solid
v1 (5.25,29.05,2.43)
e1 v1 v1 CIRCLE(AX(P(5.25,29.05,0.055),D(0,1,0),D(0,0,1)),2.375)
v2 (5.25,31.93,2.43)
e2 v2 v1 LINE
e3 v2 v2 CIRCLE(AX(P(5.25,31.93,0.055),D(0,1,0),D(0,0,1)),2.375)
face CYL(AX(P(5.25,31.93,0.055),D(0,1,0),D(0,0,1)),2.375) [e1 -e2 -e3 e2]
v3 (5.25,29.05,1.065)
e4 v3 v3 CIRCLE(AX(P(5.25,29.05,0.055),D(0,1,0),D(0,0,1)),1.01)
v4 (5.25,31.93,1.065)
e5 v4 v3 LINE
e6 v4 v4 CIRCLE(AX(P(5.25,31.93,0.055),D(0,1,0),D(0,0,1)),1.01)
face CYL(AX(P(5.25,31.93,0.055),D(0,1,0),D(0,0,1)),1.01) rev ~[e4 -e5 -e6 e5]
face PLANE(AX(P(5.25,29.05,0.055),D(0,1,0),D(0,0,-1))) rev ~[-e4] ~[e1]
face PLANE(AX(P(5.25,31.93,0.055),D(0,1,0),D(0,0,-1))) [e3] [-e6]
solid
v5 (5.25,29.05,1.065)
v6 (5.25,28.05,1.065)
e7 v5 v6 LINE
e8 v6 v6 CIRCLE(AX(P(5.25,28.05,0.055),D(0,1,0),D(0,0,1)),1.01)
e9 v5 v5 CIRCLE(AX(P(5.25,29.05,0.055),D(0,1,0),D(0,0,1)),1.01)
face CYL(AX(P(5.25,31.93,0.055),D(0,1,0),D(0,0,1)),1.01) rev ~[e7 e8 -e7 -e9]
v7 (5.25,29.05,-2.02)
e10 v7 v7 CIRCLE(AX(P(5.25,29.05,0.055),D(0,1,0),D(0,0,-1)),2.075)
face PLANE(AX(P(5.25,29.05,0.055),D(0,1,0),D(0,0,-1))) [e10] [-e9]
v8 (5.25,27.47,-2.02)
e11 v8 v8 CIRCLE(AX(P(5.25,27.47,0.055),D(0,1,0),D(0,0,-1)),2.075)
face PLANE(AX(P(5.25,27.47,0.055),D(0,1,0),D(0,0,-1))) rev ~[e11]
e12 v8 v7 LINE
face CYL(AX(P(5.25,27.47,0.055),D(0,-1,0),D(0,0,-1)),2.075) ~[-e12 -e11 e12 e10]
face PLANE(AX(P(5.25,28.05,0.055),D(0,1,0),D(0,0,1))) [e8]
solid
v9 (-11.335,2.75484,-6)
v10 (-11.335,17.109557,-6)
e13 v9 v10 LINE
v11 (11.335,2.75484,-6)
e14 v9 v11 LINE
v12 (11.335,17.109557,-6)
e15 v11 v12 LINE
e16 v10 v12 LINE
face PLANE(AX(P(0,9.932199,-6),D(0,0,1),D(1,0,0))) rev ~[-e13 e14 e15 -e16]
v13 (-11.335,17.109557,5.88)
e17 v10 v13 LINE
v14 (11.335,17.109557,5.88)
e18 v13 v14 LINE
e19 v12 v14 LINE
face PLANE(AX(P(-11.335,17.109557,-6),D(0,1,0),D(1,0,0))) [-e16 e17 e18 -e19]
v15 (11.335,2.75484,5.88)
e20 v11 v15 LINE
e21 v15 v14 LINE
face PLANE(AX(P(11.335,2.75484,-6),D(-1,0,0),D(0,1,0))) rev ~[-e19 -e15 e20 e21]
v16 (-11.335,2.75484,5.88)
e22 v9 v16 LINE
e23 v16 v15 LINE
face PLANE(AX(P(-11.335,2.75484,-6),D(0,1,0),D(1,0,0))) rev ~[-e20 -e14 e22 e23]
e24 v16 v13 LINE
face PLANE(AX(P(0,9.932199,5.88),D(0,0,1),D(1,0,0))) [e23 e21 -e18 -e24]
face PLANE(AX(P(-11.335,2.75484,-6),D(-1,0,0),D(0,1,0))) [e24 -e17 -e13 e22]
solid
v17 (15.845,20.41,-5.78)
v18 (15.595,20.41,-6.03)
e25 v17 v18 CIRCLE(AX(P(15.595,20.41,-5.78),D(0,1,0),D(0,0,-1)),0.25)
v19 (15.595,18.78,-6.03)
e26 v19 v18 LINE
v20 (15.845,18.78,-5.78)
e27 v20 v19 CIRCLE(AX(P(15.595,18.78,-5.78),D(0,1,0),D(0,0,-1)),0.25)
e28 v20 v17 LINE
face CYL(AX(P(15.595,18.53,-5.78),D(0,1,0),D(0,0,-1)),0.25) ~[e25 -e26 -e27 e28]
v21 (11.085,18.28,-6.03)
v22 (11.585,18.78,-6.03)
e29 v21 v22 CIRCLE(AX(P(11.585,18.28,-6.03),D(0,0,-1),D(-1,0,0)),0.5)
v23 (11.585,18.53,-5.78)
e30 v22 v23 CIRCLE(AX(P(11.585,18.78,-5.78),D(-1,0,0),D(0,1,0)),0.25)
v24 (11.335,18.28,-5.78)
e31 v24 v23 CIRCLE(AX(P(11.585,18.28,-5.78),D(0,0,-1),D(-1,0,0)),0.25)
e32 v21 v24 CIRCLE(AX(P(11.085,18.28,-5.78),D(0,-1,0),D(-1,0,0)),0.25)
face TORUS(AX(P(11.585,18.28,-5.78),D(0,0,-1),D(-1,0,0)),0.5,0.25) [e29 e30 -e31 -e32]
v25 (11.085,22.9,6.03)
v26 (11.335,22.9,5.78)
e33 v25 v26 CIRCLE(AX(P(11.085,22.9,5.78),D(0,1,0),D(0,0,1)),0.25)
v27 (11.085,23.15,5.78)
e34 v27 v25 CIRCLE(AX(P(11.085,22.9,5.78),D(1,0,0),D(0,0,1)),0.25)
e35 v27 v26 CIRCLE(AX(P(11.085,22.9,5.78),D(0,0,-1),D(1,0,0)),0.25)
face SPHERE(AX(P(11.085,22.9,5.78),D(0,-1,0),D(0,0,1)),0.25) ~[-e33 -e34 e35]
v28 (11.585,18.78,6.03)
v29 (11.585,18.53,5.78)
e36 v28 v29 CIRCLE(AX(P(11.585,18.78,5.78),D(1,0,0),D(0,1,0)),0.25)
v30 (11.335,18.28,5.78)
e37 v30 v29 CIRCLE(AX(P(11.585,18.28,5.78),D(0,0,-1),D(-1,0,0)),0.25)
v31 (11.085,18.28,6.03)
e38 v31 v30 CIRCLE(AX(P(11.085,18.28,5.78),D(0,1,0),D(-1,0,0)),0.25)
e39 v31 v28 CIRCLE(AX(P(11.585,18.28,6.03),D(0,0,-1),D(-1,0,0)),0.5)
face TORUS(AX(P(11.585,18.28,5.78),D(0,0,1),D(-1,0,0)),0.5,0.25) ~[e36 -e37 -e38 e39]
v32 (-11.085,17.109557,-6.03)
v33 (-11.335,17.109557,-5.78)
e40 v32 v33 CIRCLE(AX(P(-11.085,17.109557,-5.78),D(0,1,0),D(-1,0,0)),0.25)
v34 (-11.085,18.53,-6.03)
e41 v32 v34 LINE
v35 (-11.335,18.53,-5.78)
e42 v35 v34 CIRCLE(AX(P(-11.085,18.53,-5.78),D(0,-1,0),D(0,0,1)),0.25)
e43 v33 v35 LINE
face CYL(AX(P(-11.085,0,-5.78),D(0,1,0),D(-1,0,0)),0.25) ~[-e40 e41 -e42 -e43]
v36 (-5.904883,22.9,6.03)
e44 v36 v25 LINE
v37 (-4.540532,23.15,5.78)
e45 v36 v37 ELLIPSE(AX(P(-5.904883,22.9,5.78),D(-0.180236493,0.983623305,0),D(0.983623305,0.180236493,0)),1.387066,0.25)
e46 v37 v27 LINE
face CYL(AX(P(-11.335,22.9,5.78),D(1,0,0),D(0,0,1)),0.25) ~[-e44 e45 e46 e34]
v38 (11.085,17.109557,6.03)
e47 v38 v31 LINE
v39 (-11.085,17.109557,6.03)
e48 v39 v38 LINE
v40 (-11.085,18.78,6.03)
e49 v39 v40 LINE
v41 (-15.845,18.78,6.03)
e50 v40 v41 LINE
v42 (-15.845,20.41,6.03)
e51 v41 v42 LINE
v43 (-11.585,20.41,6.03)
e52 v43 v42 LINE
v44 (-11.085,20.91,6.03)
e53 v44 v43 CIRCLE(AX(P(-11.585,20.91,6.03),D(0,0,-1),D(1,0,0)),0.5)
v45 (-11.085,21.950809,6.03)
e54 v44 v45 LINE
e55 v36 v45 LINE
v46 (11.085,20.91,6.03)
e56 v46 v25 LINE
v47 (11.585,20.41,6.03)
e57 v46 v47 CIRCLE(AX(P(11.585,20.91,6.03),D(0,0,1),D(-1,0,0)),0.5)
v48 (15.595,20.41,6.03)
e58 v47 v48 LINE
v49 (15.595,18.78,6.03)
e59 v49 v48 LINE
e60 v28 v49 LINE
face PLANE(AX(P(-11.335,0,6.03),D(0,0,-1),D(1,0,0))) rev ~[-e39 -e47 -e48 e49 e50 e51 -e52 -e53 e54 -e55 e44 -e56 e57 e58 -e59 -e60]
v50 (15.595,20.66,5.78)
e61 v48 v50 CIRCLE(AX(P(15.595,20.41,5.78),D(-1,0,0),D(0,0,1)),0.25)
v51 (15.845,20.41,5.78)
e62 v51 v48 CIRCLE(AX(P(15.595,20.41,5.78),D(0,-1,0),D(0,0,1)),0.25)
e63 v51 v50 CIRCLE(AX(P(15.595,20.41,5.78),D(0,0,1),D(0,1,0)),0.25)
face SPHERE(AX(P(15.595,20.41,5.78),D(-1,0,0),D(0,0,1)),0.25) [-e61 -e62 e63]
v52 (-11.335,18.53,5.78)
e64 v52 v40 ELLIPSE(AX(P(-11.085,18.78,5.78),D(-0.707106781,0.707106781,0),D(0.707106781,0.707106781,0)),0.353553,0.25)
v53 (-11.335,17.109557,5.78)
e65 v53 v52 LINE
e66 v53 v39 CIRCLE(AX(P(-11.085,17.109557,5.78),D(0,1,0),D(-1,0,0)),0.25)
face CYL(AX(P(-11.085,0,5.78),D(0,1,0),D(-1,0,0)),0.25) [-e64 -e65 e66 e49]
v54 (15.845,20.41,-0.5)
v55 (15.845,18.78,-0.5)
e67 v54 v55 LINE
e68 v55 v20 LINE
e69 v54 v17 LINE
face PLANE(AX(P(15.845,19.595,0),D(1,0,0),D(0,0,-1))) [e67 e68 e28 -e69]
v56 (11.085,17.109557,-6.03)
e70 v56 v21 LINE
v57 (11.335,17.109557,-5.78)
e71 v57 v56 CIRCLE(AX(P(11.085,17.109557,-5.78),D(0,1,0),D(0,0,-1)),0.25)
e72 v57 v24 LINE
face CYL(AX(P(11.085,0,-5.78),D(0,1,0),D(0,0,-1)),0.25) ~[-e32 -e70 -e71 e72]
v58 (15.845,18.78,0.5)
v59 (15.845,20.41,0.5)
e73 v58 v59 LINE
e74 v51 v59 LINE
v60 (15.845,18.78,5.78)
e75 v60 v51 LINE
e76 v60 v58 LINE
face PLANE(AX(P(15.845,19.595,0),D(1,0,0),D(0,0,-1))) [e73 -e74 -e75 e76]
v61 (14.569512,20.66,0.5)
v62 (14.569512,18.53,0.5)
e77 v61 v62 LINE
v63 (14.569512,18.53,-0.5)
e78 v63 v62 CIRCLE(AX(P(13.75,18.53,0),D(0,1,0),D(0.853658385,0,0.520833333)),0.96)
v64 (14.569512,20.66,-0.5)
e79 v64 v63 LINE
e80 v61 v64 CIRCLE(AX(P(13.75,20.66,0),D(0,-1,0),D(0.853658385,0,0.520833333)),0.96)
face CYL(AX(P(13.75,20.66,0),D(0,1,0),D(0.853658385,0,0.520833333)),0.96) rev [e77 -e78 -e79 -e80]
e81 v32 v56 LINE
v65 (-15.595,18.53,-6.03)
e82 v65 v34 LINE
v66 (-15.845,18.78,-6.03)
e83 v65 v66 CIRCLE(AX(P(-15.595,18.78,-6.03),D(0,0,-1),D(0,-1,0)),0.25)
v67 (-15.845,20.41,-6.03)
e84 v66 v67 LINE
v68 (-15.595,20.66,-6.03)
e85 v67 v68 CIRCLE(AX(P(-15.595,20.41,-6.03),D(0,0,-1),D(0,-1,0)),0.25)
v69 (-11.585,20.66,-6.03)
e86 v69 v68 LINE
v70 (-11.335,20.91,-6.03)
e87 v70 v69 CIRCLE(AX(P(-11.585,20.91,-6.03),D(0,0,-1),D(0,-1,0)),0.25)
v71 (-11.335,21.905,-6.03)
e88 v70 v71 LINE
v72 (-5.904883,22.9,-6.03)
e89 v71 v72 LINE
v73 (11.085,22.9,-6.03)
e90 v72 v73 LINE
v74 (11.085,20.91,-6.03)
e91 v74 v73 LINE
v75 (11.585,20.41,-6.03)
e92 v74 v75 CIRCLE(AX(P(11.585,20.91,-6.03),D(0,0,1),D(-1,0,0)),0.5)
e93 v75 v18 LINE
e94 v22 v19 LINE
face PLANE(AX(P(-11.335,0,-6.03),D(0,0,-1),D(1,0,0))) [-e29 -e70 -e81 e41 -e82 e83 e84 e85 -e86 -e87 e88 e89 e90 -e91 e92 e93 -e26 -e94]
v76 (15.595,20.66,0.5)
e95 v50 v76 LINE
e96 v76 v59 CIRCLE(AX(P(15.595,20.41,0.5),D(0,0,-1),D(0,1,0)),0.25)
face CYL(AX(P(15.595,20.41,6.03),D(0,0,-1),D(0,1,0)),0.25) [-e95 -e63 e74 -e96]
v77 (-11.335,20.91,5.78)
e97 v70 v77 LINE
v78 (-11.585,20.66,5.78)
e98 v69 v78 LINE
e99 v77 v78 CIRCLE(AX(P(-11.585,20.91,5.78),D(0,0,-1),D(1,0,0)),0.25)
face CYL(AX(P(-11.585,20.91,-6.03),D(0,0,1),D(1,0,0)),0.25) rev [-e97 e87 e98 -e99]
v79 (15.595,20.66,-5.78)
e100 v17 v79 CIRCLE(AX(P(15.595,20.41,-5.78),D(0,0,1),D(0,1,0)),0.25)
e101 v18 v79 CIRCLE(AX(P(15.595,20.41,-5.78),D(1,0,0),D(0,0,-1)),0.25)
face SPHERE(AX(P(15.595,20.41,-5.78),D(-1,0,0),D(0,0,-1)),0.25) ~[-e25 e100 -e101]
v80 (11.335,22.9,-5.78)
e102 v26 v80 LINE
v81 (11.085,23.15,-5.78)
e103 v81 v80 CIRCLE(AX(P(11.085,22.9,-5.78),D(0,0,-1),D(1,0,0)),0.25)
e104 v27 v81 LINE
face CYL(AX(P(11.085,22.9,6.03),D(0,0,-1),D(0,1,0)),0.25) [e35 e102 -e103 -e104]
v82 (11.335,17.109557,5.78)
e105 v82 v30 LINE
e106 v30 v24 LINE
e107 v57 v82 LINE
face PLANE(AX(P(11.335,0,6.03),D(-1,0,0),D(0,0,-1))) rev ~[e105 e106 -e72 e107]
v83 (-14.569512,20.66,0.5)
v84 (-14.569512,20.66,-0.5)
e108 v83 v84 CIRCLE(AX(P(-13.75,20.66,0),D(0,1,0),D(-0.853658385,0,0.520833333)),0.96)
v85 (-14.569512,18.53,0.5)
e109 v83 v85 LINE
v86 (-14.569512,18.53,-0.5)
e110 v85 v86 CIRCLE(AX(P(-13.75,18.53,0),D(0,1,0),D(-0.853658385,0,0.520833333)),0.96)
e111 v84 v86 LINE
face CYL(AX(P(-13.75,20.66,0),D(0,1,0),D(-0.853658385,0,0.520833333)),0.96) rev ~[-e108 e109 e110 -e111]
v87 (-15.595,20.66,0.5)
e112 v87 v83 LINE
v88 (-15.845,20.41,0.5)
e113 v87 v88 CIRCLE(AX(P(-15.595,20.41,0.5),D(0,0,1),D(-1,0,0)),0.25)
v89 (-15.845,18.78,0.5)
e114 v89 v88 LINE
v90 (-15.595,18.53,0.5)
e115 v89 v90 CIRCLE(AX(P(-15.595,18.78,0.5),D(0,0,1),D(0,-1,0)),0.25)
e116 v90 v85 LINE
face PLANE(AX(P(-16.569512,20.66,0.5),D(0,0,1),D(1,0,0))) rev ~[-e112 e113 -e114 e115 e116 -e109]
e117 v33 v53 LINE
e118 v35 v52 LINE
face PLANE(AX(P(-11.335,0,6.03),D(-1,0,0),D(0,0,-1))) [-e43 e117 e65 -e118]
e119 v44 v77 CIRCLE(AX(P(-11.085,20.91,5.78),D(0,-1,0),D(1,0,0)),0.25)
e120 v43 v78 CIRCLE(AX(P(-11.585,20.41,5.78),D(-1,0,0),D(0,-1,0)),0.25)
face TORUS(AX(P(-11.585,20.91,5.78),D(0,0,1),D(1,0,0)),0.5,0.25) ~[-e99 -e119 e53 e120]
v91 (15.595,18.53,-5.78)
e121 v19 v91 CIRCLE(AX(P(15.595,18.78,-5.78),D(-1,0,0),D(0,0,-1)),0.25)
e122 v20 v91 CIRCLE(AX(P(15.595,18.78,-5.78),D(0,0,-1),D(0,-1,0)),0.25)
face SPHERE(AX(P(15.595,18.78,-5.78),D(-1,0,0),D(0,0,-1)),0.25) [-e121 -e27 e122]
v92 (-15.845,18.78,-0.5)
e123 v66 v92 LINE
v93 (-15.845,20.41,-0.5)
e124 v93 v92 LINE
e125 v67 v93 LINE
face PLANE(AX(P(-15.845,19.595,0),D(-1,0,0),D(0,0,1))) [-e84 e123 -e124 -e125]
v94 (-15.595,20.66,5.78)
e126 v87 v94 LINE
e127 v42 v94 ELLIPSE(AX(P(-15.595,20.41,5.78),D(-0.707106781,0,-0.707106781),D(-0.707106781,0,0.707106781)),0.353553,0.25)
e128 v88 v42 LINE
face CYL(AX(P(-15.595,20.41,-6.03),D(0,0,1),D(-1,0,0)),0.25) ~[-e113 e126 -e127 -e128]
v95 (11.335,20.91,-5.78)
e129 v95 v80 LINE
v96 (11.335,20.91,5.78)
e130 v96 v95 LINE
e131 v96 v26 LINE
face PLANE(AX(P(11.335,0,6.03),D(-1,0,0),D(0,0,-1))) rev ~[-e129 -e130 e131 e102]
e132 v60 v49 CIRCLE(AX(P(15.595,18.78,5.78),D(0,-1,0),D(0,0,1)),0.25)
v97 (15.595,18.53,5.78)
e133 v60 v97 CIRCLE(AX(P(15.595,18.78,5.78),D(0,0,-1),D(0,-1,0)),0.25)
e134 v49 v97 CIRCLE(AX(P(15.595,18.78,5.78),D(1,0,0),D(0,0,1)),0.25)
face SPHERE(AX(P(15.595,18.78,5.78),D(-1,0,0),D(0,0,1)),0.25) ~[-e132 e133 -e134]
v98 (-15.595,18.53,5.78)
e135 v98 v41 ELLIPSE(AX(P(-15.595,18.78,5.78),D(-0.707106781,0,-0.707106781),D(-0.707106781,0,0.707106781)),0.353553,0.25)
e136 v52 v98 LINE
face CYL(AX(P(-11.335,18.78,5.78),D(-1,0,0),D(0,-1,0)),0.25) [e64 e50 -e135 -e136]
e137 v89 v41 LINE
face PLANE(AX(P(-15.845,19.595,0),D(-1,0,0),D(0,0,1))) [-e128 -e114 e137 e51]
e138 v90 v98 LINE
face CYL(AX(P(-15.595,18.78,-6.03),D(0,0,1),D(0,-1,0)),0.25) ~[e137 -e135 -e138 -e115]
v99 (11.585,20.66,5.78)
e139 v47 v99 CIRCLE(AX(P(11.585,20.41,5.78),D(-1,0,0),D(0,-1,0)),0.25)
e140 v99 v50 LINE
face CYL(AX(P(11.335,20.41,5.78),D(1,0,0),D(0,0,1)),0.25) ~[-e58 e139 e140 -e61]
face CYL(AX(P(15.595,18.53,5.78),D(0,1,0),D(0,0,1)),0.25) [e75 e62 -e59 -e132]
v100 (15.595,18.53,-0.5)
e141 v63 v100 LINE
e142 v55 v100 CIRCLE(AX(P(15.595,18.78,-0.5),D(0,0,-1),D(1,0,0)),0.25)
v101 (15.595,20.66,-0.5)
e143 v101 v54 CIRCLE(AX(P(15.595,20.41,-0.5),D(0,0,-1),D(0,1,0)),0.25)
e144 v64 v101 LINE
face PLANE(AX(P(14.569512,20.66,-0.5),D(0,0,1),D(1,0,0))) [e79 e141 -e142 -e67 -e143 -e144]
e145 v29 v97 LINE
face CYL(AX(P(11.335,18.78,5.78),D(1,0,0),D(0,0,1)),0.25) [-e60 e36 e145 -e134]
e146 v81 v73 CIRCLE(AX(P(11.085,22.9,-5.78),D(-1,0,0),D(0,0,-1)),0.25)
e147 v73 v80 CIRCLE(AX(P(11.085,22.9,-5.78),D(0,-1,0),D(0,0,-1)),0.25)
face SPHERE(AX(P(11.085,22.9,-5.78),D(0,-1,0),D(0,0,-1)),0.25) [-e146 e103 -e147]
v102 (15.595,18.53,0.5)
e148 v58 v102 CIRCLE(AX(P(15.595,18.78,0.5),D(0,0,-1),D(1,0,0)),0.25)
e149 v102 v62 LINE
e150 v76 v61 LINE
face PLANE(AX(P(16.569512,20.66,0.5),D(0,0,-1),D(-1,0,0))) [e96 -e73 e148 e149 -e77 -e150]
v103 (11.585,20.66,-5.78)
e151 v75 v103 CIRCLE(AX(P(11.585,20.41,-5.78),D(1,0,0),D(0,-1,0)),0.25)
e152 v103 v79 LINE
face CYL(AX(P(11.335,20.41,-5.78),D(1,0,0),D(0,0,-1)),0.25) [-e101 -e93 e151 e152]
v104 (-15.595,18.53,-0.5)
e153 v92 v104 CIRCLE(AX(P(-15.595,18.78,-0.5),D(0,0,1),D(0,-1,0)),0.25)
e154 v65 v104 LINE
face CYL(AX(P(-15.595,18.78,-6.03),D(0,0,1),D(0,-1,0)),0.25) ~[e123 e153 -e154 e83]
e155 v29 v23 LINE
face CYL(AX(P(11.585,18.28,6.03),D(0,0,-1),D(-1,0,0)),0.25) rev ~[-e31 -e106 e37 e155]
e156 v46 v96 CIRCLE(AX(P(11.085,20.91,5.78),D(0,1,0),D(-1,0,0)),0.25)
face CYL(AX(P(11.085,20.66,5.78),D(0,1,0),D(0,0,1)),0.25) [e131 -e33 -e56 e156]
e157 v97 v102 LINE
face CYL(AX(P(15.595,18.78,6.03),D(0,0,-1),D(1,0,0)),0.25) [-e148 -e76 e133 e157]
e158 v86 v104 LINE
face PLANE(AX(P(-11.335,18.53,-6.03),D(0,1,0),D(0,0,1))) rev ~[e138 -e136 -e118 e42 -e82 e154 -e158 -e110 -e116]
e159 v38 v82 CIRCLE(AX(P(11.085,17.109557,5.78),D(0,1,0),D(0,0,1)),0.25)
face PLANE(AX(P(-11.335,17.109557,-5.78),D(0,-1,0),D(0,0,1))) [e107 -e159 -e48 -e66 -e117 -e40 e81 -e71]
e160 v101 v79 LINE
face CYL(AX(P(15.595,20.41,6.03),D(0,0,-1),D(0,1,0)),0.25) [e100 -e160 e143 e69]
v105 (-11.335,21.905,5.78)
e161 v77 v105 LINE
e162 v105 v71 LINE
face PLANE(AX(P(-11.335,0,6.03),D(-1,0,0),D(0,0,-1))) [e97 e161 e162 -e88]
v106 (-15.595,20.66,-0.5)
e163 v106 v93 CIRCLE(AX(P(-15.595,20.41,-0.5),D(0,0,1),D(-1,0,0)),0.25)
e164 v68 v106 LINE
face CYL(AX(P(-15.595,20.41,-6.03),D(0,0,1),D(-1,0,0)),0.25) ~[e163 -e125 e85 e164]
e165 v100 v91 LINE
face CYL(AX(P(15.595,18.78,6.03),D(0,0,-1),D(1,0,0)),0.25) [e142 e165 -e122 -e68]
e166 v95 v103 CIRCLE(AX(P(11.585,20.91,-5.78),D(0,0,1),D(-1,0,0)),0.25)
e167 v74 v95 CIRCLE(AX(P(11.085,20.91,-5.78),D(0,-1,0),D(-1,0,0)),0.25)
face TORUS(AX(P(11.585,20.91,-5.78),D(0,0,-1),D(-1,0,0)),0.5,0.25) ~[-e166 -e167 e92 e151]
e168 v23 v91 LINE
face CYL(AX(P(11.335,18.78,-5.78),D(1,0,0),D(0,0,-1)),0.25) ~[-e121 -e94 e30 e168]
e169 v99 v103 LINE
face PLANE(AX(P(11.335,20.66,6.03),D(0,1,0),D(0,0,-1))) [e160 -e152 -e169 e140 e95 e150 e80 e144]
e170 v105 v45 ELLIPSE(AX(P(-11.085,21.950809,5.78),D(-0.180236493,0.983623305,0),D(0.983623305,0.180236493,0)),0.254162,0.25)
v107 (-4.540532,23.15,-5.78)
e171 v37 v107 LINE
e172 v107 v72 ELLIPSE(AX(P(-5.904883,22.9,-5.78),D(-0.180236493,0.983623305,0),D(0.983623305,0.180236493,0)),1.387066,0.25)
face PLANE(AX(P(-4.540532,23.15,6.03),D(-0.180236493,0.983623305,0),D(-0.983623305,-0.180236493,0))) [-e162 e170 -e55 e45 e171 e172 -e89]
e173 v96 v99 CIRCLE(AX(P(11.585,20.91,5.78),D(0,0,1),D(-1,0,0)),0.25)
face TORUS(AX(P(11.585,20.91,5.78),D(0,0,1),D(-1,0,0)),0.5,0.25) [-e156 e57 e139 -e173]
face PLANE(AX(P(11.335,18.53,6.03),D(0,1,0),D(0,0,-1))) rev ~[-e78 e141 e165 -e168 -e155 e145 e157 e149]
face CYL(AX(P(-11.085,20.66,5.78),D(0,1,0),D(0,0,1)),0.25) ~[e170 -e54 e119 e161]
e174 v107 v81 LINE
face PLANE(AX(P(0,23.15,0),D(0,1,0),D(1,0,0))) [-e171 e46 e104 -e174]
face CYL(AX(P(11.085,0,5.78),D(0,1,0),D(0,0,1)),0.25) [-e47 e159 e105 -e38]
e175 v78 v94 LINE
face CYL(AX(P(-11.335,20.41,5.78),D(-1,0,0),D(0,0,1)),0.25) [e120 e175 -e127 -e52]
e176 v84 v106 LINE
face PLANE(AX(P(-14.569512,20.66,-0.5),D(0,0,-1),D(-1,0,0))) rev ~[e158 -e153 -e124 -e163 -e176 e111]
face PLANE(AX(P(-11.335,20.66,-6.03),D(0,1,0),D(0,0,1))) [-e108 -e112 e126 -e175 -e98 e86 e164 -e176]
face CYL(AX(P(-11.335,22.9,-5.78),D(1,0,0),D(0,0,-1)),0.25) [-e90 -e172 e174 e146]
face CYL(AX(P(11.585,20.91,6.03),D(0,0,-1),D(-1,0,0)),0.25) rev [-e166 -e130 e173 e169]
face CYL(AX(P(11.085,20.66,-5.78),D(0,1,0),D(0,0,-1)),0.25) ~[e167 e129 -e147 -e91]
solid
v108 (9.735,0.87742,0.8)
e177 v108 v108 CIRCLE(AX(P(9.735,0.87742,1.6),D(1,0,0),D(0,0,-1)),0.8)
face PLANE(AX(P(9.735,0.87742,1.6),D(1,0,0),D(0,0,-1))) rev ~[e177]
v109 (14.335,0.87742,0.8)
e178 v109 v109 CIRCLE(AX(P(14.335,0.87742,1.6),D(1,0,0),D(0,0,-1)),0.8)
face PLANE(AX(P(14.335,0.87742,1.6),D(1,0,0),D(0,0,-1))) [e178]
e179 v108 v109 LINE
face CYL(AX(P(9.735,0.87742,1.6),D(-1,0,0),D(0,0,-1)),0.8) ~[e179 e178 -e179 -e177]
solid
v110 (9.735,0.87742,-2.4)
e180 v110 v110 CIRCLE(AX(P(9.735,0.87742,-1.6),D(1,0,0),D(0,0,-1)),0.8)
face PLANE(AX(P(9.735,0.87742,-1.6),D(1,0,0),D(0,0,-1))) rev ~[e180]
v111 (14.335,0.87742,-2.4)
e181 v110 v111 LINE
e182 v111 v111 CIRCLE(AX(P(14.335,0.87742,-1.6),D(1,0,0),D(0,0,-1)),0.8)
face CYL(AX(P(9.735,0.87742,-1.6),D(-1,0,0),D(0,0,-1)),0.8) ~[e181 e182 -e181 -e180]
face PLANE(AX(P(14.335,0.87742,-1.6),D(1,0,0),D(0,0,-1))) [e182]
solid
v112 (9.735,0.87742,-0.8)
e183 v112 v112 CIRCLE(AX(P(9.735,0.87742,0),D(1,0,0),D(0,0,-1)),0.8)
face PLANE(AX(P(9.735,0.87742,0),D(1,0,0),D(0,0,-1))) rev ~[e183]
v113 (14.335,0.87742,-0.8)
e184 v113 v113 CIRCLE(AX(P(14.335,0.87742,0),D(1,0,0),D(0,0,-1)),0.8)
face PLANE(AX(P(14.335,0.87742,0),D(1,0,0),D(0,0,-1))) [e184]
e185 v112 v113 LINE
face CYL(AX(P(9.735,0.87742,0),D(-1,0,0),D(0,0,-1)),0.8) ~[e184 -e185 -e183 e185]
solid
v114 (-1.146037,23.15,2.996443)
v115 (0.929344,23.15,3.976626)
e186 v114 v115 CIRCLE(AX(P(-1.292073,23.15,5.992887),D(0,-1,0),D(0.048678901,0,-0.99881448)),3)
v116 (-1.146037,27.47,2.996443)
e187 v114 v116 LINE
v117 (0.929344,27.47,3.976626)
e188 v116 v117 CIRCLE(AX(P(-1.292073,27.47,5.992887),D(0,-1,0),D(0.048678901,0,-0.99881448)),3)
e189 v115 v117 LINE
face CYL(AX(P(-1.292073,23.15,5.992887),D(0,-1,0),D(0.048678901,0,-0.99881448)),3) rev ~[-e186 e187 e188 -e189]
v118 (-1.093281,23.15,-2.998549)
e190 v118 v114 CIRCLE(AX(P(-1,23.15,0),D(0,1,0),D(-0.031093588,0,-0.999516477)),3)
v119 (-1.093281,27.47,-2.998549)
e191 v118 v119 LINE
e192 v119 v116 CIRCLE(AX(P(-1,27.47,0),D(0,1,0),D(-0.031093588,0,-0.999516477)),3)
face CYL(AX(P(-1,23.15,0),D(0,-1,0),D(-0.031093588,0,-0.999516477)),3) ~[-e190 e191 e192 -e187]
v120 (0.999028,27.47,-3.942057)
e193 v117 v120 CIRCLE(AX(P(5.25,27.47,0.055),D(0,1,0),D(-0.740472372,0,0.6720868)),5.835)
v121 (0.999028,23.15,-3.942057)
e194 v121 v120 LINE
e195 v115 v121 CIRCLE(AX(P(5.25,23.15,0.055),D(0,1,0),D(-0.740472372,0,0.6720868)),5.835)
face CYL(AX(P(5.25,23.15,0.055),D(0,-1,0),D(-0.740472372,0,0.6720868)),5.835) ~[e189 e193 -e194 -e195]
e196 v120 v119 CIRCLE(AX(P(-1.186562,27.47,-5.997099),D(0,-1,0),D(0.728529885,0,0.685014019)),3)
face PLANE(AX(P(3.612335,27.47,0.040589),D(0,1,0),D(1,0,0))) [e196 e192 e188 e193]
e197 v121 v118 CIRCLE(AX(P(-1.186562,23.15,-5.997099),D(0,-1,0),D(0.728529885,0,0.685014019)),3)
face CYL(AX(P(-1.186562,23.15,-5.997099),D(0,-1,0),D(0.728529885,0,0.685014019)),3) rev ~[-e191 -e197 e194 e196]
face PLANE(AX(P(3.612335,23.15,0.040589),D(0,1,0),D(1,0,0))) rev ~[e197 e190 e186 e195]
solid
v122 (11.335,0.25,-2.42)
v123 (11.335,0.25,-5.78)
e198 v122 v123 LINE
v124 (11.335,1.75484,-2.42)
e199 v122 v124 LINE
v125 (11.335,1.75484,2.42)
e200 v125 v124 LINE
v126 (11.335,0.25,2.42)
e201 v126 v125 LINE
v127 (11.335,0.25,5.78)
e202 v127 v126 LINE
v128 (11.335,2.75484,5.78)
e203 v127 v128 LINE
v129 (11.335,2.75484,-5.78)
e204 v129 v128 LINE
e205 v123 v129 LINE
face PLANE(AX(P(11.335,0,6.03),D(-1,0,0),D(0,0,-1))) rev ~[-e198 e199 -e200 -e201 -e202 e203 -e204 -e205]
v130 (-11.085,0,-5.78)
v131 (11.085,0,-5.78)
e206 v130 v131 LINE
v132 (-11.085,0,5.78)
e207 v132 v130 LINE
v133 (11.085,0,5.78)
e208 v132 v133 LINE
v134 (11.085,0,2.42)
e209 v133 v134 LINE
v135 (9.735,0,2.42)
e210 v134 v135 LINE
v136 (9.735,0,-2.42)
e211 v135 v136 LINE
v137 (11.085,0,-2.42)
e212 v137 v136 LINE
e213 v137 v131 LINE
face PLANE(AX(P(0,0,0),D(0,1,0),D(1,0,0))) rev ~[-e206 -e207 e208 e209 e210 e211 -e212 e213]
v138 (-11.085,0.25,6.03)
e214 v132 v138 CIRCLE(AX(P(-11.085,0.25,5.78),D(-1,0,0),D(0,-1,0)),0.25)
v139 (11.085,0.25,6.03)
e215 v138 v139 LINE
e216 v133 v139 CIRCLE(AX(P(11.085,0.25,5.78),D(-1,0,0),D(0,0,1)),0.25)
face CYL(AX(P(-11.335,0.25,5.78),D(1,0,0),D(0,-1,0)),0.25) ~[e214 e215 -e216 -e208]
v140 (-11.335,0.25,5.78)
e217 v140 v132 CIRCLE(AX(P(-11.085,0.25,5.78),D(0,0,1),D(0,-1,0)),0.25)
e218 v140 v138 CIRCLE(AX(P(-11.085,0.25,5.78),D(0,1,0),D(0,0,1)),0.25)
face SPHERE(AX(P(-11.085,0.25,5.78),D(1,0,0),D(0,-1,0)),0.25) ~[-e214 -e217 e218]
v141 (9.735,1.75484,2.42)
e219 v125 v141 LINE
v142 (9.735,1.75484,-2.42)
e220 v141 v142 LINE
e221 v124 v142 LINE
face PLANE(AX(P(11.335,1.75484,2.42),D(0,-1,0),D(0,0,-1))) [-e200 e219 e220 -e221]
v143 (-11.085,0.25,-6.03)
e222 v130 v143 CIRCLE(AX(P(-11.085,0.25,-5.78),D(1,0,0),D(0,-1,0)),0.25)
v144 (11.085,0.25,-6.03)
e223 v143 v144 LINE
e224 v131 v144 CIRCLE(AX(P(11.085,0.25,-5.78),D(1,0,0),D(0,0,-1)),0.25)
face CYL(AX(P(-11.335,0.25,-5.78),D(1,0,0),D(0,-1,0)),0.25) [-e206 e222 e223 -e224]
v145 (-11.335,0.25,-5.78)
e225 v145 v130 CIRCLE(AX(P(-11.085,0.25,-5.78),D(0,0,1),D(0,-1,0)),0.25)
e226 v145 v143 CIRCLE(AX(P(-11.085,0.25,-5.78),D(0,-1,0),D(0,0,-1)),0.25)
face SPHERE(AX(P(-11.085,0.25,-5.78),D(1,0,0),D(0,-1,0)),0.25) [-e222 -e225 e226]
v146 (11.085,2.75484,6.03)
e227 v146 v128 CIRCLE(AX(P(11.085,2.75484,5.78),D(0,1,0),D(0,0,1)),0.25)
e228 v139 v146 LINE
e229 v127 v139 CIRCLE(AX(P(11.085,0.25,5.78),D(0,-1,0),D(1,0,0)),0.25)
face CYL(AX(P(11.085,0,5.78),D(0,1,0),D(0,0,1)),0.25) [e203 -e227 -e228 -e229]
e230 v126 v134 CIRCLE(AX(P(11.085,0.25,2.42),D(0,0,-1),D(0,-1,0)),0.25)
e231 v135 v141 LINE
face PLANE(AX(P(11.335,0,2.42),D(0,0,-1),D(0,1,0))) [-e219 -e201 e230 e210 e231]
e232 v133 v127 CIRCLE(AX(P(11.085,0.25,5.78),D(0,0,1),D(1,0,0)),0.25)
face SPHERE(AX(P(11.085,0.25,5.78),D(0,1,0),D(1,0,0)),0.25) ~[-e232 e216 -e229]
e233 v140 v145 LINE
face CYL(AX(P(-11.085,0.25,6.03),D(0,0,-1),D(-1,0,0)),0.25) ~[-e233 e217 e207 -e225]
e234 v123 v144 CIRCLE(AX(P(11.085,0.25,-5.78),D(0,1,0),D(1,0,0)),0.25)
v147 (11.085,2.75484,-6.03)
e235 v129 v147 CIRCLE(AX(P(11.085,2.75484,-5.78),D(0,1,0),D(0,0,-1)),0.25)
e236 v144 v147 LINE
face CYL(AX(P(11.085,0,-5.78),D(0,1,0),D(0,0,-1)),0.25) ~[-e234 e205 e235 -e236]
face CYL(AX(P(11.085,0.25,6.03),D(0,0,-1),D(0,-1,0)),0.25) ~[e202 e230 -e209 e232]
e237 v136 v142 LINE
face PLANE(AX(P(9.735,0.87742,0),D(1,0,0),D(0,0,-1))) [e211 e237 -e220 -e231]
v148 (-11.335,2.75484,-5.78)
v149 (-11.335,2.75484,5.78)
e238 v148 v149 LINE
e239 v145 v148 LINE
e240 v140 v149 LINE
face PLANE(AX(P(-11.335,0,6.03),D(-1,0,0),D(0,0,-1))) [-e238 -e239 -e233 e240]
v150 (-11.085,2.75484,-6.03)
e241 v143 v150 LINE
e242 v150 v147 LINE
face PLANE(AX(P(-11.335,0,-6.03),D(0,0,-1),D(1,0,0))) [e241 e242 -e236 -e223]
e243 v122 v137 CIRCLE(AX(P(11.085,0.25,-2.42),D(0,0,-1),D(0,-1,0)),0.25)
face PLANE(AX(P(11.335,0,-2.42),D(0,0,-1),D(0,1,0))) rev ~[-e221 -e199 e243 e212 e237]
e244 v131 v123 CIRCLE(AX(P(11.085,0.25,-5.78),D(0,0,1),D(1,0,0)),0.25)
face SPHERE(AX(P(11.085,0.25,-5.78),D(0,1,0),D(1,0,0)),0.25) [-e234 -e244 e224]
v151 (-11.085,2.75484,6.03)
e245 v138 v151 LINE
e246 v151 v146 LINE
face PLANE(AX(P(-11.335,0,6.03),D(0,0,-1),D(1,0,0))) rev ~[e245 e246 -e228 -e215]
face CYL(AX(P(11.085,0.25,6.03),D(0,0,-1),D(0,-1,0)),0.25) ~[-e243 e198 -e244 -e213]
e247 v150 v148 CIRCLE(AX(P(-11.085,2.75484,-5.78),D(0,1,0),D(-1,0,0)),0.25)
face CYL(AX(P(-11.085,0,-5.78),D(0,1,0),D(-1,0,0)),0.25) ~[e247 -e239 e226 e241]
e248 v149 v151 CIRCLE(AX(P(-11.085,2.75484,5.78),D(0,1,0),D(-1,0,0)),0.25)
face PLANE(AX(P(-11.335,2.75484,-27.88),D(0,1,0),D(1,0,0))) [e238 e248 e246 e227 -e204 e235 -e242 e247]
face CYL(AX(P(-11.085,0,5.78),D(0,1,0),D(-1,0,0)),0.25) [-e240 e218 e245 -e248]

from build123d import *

# Parameters (mm, degrees)
CROQUIS1_W                   = 22.67
CROQUIS1_H                   = 12.06
SALIENTE_EXTRUIR1_DEPTH      = 23.15
CROQUIS2_W                   = 12.06
CROQUIS2_H                   = 2.13
SALIENTE_EXTRUIR2_DEPTH      = 4.51
CROQUIS5_W                   = 12.06
CROQUIS5_H                   = 2.13
SALIENTE_EXTRUIR3_DEPTH      = 4.51
REDONDEO1_R                  = 0.25
CORTAR_EXTRUIR12_DEPTH       = 4.51
SALIENTE_EXTRUIR4_DEPTH      = 4.32
CROQUIS9_R                   = 2.075
SALIENTE_EXTRUIR5_DEPTH      = 1.58
CROQUIS10_R                  = 2.385
SALIENTE_EXTRUIR6_DEPTH      = 2.88
CROQUIS11_R                  = 1.01
CORTAR_EXTRUIR13_DEPTH       = 3.88
CROQUIS12_R                  = 2.385
CROQUIS12_R_2                = 2.375
CORTAR_EXTRUIR14_DEPTH       = 2.88
CORTAR_EXTRUIR15_DEPTH       = 16.88
CROQUIS14_W                  = 22.17
CROQUIS14_H                  = 12.33
CORTAR_EXTRUIR16_DEPTH       = 16.88
CROQUIS16_W                  = 11.56
CROQUIS16_H                  = 14.354716837
CORTAR_EXTRUIR17_DEPTH       = 27.88
CORTAR_EXTRUIR18_DEPTH       = 27.88
CORTAR_EXTRUIR18_DEPTH_BACK  = 27.88
CROQUIS17_W                  = 22.67
CROQUIS17_H                  = 14.354716837
SALIENTE_EXTRUIR7_DEPTH      = 5.88
SALIENTE_EXTRUIR7_DEPTH_BACK = 6
CROQUIS18_W                  = 22.67
CROQUIS18_H                  = 14.354716837
CROQUIS19_W                  = 4.84
CROQUIS19_H                  = 1.754840309
CORTAR_EXTRUIR19_DEPTH       = 1.6
SALIENTE_EXTRUIR8_DEPTH      = 4.6
CROQUIS20_R                  = 0.8
SALIENTE_EXTRUIR8_2_DEPTH    = 4.6
SALIENTE_EXTRUIR8_3_DEPTH    = 4.6


with BuildPart() as part:
    # Croquis1 → Saliente-Extruir1 (new body)
    with BuildSketch(Plane(origin=(0, 0, 0), x_dir=(1, 0, 0), z_dir=(0, 1, 0))):
        Rectangle(CROQUIS1_W, CROQUIS1_H)
    extrude(amount=SALIENTE_EXTRUIR1_DEPTH)

    # Croquis2 → Saliente-Extruir2 (add)
    with BuildSketch(Plane(origin=(11.335, 0, 0), x_dir=(0, 0, -1), z_dir=(1, 0, 0))):
        with Locations((0, 19.595)):
            Rectangle(CROQUIS2_W, CROQUIS2_H)
    extrude(amount=SALIENTE_EXTRUIR2_DEPTH)

    # Croquis5 → Saliente-Extruir3 (add)
    with BuildSketch(Plane.ZY.offset(11.335)):
        with Locations((0, 19.595)):
            Rectangle(CROQUIS5_W, CROQUIS5_H)
    extrude(amount=SALIENTE_EXTRUIR3_DEPTH)

    # Redondeo1
    redondeo1_edges = [part.edges().sort_by_distance(p)[0] for p in [
        (-11.335, 21.905, 6.03),
        (11.335, 9.265, 6.03),
        (11.335, 21.905, 6.03),
        (11.335, 21.905, -6.03),
        (11.335, 9.265, -6.03),
        (11.335, 0, 0),
        (0, 0, -6.03),
        (0, 0, 6.03),
        (-11.335, 0, 0),
        (-11.335, 9.265, -6.03),
        (-11.335, 9.265, 6.03),
        (-13.59, 18.53, 6.03),
        (-13.59, 20.66, 6.03),
        (0, 23.15, -6.03),
        (0, 23.15, 6.03),
        (-11.335, 20.66, 0),
        (-11.335, 23.15, 0),
        (11.335, 23.15, 0),
        (13.59, 18.53, 6.03),
        (13.59, 20.66, 6.03),
        (13.59, 20.66, -6.03),
        (13.59, 18.53, -6.03),
        (11.335, 18.53, 0),
        (11.335, 20.66, 0),
        (15.845, 19.595, -6.03),
        (15.845, 19.595, 6.03),
        (15.845, 18.53, 0),
        (15.845, 20.66, 0),
        (-15.845, 18.53, 0),
        (-15.845, 20.66, 0),
    ]]
    fillet(redondeo1_edges, radius=REDONDEO1_R)

    # Croquis6 → Cortar-Extruir12 (cut)
    with BuildSketch(Plane(origin=(0, 20.66, 0), x_dir=(1, 0, 0), z_dir=(0, 1, 0))):
        with BuildLine():
            Line((-14.56951205, 0.5), (-16.56951205, 0.5))
            Line((-16.56951205, 0.5), (-16.56951205, -0.5))
            Line((-16.56951205, -0.5), (-14.56951205, -0.5))
            ThreePointArc((-14.56951205, -0.5), (-12.79, 0), (-14.56951205, 0.5))
        make_face()
        with BuildLine():
            Line((14.56951205, 0.5), (16.56951205, 0.5))
            Line((16.56951205, 0.5), (16.56951205, -0.5))
            Line((16.56951205, -0.5), (14.56951205, -0.5))
            ThreePointArc((14.56951205, -0.5), (12.79, 0), (14.56951205, 0.5))
        make_face()
    extrude(amount=-CORTAR_EXTRUIR12_DEPTH, mode=Mode.SUBTRACT)

    # Croquis13 → Cortar-Extruir15 (cut)
    with BuildSketch(Plane.XY.offset(6.03)):
        Polygon((-4.540532383, 23.15), (-11.335, 21.905), (-11.335, 23.15), align=None)
    extrude(amount=-CORTAR_EXTRUIR15_DEPTH, mode=Mode.SUBTRACT)

    # Croquis14 → Cortar-Extruir16 (cut)
    with BuildSketch(Plane.XY.offset(6.03)):
        with Locations((0, 8.935)):
            Rectangle(CROQUIS14_W, CROQUIS14_H)
    extrude(amount=-CORTAR_EXTRUIR16_DEPTH, mode=Mode.SUBTRACT)

    # Croquis16 → Cortar-Extruir17 (cut)
    with BuildSketch(Plane.ZY.offset(11.335)):
        with Locations((0, 9.932198727)):
            Rectangle(CROQUIS16_W, CROQUIS16_H)
    extrude(amount=-CORTAR_EXTRUIR17_DEPTH, mode=Mode.SUBTRACT)

    # Croquis17 → Cortar-Extruir18 (cut, two sides: drawn at the far end of the back side and taken through both)
    with BuildSketch(Plane.XY.offset(-CORTAR_EXTRUIR18_DEPTH_BACK)):
        with Locations((0, 9.932198727)):
            Rectangle(CROQUIS17_W, CROQUIS17_H)
    extrude(amount=CORTAR_EXTRUIR18_DEPTH + CORTAR_EXTRUIR18_DEPTH_BACK, mode=Mode.SUBTRACT)


with BuildPart() as body_2:
    # Croquis8 → Saliente-Extruir4 (new body)
    with BuildSketch(Plane(origin=(0, 23.15, 0), x_dir=(1, 0, 0), z_dir=(0, 1, 0))):
        with BuildLine():
            ThreePointArc((0.929343711, -3.976626478), (11.084774082, -0.106346012), (0.999028124, 3.942056806))
            ThreePointArc((0.999028124, 3.942056806), (0.046671675, 3.262297983), (-1.093280765, 2.998549432))
            ThreePointArc((-1.093280765, 2.998549432), (-3.999883847, 0.026398978), (-1.146036702, -2.996443439))
            ThreePointArc((-1.146036702, -2.996443439), (-0.01090242, -3.280212753), (0.929343711, -3.976626478))
        make_face()
    extrude(amount=SALIENTE_EXTRUIR4_DEPTH)


with BuildPart() as body_3:
    # Croquis9 → Saliente-Extruir5 (new body)
    with BuildSketch(Plane(origin=(0, 27.47, 0), x_dir=(1, 0, 0), z_dir=(0, 1, 0))):
        with Locations((5.25, -0.055)):
            Circle(CROQUIS9_R)
    extrude(amount=SALIENTE_EXTRUIR5_DEPTH)


with BuildPart() as body_4:
    # Croquis10 → Saliente-Extruir6 (new body)
    with BuildSketch(Plane(origin=(0, 29.05, 0), x_dir=(1, 0, 0), z_dir=(0, 1, 0))):
        with Locations((5.25, -0.055)):
            Circle(CROQUIS10_R)
    extrude(amount=SALIENTE_EXTRUIR6_DEPTH)


with BuildPart() as cortar_extruir13_tool:
    # Croquis11 → Cortar-Extruir13 (new body)
    with BuildSketch(Plane(origin=(0, 31.93, 0), x_dir=(1, 0, 0), z_dir=(0, 1, 0))):
        with Locations((5.25, -0.055)):
            Circle(CROQUIS11_R)
    extrude(amount=-CORTAR_EXTRUIR13_DEPTH)


with BuildPart() as body_3_1:
    add(body_3.part)

    # Cortar-Extruir13: cut by cortar_extruir13_tool
    add(cortar_extruir13_tool.part, mode=Mode.SUBTRACT)


with BuildPart() as body_4_1:
    add(body_4.part)

    # Cortar-Extruir13: cut by cortar_extruir13_tool
    add(cortar_extruir13_tool.part, mode=Mode.SUBTRACT)

    # Croquis12 → Cortar-Extruir14 (cut)
    with BuildSketch(Plane(origin=(0, 31.93, 0), x_dir=(1, 0, 0), z_dir=(0, 1, 0))):
        with Locations((5.25, -0.055)):
            Circle(CROQUIS12_R)
        with Locations((5.25, -0.055)):
            Circle(CROQUIS12_R_2, mode=Mode.SUBTRACT)
    extrude(amount=-CORTAR_EXTRUIR14_DEPTH, mode=Mode.SUBTRACT)


with BuildPart() as cortar_extruir18_piece_1:
    # of the separate pieces the step leaves, piece 1, a body of its own (cortar_extruir18_pieces)
    add(part.part.solids().sort_by_distance((-11.085, 17.109557146, -6.03))[0])


with BuildPart() as cortar_extruir18_piece_2:
    # of the separate pieces the step leaves, piece 2, a body of its own (cortar_extruir18_pieces)
    add(part.part.solids().sort_by_distance((11.085, 0.25, -6.03))[0])

    # Croquis19 → Cortar-Extruir19 (cut)
    with BuildSketch(Plane(origin=(11.335, 0, 0), x_dir=(0, 0, -1), z_dir=(1, 0, 0))):
        with Locations((0, 0.877420155)):
            Rectangle(CROQUIS19_W, CROQUIS19_H)
    extrude(amount=-CORTAR_EXTRUIR19_DEPTH, mode=Mode.SUBTRACT)


with BuildPart() as body_6:
    # Croquis18 → Saliente-Extruir7 (new, two sides: drawn at the far end of the back side and taken through both)
    with BuildSketch(Plane.XY.offset(-SALIENTE_EXTRUIR7_DEPTH_BACK)):
        with Locations((0, 9.932198727)):
            Rectangle(CROQUIS18_W, CROQUIS18_H)
    extrude(amount=SALIENTE_EXTRUIR7_DEPTH + SALIENTE_EXTRUIR7_DEPTH_BACK)


with BuildPart() as body_7:
    # Croquis20 → Saliente-Extruir8 (new body)
    with BuildSketch(Plane(origin=(9.735, 0, 0), x_dir=(0, 0, -1), z_dir=(1, 0, 0))):
        with BuildLine():
            ThreePointArc((-0.8, 0.877420155), (0, 0.077420155), (0.8, 0.877420155))
            ThreePointArc((0.8, 0.877420155), (0, 1.677420155), (-0.8, 0.877420155))
        make_face()
    extrude(amount=SALIENTE_EXTRUIR8_DEPTH)


with BuildPart() as body_8:
    # Croquis20 → Saliente-Extruir8 2 (new body)
    with BuildSketch(Plane(origin=(9.735, 0, 0), x_dir=(0, 0, -1), z_dir=(1, 0, 0))):
        with Locations((-1.6, 0.877420155)):
            Circle(CROQUIS20_R)
    extrude(amount=SALIENTE_EXTRUIR8_2_DEPTH)


with BuildPart() as body_9:
    # Croquis20 → Saliente-Extruir8 3 (new body)
    with BuildSketch(Plane(origin=(9.735, 0, 0), x_dir=(0, 0, -1), z_dir=(1, 0, 0))):
        with Locations((1.6, 0.877420155)):
            Circle(CROQUIS20_R)
    extrude(amount=SALIENTE_EXTRUIR8_3_DEPTH)


solid = Compound([body_2.part, body_3_1.part, body_4_1.part, cortar_extruir18_piece_1.part, cortar_extruir18_piece_2.part, body_6.part, body_7.part, body_8.part, body_9.part])
